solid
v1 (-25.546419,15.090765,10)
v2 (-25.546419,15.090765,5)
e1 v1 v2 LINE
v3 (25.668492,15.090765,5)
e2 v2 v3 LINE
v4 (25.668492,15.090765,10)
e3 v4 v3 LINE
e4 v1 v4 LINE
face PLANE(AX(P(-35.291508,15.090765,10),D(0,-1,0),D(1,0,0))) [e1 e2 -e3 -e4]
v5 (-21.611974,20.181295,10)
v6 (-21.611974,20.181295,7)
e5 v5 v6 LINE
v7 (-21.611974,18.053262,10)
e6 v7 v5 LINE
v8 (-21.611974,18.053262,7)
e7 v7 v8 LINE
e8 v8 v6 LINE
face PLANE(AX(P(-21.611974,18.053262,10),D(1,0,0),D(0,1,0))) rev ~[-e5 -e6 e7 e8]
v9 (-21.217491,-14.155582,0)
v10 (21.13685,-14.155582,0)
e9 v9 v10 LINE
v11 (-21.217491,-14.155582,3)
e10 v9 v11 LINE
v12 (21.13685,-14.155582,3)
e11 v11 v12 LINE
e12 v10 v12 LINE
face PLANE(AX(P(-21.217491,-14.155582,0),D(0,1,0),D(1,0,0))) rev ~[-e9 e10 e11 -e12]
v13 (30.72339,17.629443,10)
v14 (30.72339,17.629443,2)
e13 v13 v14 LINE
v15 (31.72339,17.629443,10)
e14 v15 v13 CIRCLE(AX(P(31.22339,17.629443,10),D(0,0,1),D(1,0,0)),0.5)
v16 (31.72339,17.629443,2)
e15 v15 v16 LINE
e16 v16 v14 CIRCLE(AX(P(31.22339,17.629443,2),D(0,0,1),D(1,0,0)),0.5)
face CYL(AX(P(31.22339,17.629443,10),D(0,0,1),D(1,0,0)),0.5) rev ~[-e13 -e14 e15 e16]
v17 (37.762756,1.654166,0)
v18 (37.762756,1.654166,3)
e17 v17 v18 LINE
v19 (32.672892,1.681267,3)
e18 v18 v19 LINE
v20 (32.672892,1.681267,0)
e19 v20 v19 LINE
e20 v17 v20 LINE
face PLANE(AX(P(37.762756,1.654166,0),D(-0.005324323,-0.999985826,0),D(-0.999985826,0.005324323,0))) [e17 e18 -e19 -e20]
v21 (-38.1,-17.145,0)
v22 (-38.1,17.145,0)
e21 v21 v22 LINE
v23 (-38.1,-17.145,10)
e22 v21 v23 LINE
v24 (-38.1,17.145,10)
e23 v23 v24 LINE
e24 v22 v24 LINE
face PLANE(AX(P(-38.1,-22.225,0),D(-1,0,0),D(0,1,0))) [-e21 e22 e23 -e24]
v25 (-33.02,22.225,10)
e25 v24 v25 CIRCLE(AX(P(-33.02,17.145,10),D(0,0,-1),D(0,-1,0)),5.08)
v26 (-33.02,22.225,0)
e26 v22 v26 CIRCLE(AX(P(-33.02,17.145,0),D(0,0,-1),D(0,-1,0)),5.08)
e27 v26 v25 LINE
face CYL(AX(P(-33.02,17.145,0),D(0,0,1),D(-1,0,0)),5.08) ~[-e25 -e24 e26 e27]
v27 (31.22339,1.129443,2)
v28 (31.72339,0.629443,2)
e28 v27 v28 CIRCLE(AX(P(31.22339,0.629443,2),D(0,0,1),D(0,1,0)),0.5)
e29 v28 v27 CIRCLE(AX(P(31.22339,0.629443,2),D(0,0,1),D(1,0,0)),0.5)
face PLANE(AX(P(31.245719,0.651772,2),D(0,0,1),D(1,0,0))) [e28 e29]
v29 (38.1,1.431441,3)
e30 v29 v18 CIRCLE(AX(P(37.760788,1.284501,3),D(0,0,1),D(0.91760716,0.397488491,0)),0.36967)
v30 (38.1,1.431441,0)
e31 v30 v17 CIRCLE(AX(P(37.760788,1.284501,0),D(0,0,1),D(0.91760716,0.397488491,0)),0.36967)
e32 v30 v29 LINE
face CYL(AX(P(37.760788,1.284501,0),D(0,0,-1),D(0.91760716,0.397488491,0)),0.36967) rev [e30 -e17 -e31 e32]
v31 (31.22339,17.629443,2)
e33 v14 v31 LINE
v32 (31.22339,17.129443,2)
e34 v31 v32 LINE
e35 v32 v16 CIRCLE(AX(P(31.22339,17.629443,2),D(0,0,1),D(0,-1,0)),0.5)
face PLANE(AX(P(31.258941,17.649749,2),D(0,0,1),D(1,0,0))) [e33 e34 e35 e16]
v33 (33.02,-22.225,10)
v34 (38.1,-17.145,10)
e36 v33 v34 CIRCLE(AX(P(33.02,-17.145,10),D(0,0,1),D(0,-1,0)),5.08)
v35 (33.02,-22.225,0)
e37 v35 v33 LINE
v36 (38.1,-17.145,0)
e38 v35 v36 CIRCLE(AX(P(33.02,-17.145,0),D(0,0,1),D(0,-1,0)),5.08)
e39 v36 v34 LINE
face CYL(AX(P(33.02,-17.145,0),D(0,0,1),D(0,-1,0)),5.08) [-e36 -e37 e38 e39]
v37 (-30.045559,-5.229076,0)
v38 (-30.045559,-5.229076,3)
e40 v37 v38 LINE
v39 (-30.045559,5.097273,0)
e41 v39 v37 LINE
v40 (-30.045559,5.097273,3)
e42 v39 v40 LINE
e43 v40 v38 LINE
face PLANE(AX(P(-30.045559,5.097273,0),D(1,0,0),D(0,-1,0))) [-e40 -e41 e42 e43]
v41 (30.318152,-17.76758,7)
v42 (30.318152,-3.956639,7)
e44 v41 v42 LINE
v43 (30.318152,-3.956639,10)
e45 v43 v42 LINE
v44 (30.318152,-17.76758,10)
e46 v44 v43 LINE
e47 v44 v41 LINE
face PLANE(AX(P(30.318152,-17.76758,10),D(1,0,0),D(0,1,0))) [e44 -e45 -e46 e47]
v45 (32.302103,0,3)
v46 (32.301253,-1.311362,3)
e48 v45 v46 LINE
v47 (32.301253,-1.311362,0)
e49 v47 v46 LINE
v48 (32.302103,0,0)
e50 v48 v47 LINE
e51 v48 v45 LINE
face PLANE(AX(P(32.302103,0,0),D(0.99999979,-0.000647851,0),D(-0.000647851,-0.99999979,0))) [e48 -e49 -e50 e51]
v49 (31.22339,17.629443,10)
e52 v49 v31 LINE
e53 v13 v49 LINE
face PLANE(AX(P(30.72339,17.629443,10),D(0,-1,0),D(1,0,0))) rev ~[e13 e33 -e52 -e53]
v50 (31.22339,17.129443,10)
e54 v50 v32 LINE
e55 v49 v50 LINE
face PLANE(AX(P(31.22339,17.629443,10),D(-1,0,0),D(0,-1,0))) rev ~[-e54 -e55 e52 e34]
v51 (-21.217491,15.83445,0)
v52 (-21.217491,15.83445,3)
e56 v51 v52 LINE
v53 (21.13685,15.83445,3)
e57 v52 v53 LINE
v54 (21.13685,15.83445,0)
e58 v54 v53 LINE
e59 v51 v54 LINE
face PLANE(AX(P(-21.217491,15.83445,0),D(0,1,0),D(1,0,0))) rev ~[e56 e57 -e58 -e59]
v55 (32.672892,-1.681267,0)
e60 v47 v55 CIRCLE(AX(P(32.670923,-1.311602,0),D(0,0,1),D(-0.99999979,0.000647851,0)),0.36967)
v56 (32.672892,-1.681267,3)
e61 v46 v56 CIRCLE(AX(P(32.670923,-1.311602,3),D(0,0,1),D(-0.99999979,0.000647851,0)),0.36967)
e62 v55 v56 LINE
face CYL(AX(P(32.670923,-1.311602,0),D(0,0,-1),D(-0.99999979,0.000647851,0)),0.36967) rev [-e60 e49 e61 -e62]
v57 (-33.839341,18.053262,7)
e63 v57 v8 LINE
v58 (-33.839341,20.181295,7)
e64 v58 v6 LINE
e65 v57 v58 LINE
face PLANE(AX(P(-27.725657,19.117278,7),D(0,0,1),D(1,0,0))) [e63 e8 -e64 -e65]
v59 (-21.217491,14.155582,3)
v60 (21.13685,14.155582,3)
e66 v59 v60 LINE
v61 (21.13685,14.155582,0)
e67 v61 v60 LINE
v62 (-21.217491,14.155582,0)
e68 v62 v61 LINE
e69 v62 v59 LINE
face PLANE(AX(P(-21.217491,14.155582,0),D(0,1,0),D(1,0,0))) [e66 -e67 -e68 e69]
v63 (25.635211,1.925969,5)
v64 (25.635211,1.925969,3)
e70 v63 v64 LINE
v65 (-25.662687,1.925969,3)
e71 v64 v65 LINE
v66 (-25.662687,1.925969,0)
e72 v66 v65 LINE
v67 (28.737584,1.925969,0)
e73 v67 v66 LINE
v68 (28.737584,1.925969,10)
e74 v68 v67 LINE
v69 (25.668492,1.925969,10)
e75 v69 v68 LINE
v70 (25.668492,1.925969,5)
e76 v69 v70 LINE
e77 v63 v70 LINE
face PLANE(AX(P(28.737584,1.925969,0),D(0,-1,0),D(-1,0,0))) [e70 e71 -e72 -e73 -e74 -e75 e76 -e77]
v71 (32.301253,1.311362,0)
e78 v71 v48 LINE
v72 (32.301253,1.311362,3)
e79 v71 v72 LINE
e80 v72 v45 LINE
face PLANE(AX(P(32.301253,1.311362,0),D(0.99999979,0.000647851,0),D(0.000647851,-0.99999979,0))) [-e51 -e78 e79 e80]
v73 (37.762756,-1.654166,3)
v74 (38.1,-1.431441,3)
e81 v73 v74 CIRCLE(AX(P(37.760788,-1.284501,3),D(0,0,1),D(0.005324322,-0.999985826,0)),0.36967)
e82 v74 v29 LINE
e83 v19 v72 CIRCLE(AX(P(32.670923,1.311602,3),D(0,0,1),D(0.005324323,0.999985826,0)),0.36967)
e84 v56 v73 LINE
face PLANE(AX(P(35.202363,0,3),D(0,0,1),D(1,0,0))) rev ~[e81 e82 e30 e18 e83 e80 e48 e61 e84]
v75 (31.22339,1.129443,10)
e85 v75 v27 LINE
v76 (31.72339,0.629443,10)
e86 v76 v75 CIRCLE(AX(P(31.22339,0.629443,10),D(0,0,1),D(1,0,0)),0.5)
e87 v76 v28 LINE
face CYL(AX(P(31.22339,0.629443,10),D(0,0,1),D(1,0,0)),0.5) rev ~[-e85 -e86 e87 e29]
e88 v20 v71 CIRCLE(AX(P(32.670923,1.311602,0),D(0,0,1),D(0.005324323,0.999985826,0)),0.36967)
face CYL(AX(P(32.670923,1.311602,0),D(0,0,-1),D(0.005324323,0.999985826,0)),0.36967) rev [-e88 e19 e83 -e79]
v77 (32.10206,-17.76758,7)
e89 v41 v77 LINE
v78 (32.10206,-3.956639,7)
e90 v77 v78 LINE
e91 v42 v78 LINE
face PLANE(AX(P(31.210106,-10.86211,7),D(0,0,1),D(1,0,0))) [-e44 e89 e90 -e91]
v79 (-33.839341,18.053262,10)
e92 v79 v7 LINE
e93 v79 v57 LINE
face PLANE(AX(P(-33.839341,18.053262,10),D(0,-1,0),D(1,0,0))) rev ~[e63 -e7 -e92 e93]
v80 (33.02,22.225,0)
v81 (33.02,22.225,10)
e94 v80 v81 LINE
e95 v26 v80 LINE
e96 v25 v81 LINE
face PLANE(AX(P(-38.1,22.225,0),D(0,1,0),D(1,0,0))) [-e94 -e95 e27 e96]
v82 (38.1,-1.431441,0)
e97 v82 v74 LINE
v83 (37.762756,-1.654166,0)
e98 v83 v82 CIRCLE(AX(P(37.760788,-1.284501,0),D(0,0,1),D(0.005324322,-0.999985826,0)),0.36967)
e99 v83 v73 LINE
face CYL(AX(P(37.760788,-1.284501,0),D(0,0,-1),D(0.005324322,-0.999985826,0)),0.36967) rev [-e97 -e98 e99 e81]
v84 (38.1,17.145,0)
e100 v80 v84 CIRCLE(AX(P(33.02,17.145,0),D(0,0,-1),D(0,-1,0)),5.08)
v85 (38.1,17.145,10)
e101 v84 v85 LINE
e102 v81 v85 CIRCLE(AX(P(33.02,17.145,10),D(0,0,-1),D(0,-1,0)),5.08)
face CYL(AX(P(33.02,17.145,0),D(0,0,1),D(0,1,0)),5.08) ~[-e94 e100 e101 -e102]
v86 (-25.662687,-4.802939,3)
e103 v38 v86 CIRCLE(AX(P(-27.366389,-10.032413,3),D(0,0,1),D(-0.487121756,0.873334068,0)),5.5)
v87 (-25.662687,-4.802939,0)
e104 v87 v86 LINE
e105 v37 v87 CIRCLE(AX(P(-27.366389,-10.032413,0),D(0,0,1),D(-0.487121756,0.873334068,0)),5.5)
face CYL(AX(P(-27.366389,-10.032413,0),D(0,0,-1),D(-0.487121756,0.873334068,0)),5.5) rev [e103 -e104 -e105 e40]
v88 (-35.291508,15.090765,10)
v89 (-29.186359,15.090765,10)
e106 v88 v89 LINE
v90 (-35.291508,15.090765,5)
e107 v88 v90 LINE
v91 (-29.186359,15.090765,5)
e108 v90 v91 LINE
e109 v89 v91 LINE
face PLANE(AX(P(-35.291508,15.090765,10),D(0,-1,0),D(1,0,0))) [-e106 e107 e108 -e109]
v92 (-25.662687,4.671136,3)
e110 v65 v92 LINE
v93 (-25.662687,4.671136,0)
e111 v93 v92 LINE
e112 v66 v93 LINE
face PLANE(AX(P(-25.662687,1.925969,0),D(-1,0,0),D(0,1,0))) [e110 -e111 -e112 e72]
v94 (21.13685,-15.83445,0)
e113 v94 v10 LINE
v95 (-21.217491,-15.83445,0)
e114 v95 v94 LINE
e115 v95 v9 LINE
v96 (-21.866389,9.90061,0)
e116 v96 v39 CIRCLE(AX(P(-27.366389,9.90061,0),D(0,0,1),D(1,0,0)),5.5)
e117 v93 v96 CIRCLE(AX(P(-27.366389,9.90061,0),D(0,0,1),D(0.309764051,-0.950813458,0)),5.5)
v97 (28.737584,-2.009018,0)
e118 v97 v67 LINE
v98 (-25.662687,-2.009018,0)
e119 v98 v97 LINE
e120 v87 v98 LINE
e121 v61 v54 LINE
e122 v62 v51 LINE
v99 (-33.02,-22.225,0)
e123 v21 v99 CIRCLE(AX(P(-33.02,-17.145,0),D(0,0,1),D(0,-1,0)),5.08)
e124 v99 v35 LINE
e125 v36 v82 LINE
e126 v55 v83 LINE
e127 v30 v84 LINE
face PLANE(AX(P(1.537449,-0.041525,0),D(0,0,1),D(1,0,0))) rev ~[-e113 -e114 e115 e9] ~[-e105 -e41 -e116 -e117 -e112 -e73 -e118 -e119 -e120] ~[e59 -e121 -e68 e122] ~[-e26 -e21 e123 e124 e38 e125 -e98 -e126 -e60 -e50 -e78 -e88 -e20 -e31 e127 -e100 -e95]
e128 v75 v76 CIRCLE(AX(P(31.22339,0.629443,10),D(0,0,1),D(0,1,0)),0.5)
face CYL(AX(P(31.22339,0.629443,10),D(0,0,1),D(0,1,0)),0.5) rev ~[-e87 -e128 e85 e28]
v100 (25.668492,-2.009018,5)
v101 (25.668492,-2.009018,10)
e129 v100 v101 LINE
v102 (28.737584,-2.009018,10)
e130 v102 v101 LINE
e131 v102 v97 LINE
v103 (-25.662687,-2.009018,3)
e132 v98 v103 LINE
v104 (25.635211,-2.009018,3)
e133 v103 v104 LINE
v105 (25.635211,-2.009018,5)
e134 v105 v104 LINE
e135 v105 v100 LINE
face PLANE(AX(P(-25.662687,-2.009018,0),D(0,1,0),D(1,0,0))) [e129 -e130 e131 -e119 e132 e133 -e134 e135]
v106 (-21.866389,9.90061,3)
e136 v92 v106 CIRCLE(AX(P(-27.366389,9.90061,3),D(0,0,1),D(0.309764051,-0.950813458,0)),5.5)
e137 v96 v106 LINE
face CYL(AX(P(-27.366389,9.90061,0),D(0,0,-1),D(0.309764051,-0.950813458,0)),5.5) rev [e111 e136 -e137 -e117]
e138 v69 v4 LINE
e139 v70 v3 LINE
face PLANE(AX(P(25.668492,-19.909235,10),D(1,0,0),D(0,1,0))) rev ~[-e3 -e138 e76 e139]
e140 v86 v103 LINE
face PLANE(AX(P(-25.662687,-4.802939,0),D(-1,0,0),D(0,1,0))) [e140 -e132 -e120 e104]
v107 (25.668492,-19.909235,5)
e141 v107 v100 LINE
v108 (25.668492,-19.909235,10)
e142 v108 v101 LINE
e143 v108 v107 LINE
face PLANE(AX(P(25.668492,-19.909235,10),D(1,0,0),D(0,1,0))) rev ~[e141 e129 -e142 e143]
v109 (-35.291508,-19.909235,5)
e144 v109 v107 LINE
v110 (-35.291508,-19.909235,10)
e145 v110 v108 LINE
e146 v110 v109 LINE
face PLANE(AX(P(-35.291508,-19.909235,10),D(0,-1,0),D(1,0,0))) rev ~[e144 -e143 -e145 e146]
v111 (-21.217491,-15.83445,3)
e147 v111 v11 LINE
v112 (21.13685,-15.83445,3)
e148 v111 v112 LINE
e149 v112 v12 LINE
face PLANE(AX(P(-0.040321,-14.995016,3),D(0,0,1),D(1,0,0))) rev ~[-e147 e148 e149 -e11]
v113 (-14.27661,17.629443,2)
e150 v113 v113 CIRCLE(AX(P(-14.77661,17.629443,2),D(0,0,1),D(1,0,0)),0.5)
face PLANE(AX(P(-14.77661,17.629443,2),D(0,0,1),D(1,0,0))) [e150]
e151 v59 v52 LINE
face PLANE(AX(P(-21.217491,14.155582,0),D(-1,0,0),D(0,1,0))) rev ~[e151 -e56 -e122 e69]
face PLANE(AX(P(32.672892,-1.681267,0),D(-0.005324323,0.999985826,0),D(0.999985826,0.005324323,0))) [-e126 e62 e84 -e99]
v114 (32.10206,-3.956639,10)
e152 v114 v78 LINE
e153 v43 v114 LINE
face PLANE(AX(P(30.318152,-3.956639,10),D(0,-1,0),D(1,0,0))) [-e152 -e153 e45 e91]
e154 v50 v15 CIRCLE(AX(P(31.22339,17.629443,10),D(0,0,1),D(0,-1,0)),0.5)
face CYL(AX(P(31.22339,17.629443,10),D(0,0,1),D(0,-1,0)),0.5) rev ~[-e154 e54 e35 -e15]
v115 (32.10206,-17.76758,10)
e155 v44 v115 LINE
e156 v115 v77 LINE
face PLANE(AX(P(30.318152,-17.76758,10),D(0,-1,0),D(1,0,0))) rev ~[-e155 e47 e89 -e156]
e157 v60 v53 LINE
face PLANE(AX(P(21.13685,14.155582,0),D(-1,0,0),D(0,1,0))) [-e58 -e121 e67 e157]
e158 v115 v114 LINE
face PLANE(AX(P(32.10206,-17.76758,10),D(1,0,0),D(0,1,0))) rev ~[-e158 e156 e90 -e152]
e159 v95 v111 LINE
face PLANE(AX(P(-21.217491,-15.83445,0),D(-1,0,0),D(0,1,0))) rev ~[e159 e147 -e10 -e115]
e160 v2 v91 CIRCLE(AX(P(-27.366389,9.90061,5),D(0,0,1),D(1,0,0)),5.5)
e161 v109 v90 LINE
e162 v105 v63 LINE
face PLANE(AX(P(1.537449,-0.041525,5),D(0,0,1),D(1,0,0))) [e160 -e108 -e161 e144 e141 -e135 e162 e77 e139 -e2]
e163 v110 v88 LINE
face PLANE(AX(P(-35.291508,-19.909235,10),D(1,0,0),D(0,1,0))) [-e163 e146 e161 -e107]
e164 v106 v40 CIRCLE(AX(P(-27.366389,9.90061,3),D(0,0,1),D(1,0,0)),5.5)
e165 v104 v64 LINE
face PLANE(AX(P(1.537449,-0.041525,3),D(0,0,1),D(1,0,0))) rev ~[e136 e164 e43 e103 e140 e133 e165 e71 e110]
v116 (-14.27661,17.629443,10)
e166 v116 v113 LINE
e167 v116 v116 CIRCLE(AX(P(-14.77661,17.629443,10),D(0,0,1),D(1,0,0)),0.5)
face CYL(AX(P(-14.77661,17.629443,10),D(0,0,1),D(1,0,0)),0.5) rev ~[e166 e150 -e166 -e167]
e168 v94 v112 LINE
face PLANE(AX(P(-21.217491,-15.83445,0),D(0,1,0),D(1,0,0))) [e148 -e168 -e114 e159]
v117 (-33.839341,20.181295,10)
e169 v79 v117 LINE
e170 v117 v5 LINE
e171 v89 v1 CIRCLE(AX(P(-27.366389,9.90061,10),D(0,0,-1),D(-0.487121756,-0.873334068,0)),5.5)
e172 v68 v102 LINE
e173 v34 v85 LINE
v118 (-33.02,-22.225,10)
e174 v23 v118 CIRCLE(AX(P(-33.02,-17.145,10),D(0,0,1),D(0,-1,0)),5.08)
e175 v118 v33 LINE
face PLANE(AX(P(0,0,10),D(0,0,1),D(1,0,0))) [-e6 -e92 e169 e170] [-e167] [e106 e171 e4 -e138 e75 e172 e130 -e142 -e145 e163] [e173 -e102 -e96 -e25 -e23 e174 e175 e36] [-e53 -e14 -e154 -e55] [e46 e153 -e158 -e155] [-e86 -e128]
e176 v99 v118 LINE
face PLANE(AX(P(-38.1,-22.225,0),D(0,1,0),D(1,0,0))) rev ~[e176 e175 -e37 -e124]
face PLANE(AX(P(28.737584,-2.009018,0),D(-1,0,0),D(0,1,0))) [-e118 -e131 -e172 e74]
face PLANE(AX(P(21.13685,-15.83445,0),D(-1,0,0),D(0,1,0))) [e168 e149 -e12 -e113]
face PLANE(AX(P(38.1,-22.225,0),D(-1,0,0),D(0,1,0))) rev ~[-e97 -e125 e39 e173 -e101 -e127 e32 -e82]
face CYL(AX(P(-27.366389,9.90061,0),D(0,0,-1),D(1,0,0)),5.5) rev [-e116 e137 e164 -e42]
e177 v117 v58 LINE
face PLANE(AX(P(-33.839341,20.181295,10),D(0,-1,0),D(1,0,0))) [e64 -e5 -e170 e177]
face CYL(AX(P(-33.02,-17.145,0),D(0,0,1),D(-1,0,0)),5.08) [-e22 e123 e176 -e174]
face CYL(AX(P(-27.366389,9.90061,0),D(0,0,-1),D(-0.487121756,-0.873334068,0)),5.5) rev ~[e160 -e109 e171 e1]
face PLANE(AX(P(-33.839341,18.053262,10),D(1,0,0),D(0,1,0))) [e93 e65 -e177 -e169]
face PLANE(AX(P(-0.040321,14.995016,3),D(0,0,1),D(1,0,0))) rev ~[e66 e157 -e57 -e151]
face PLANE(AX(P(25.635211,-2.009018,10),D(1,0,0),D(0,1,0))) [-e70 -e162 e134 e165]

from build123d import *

# Parameters (mm, degrees)
F0_W      = 76.2
F0_H      = 44.45
F1_DEPTH  = 10
F3_W      = 60.96
F3_H      = 35
F5_DEPTH  = 5
F6_DEPTH  = 3
F7_DEPTH  = 5
F8_DEPTH  = 3
F9_R      = 5.08
F10_W     = 3.1023733318
F10_H     = 3.9349872386
F11_DEPTH = 11
F12_W     = 42.3543415964
F12_H     = 1.6788681969
F13_DEPTH = 3
F4_R      = 0.5
F14_DEPTH = 8
F16_DEPTH = 3
F17_W     = 1.7839074135
F17_H     = 13.8109410182
F17_W_2   = 12.2273676097
F17_H_2   = 2.1280329674
F18_DEPTH = 3


with BuildPart() as f1:
    # F0 (on Top) → F1 (new body)
    with BuildSketch(Plane.XY):
        Rectangle(F0_W, F0_H)
        with BuildLine():
            Line((-30.0455586378, -5.2290757074), (-30.0455586378, 5.0972730335))
            ThreePointArc((-30.0455586378, 5.0972730335), (-30.1515789958, 14.6432590947), (-21.8663889779, 9.9006104081))
            ThreePointArc((-21.8663889779, 9.9006104081), (-22.9155259968, 6.6695395757), (-25.6626866956, 4.6711363874))
            Line((-25.6626866956, 4.6711363874), (-25.6626866956, 1.9259689143))
            Line((-25.6626866956, 1.9259689143), (26.3650547713, 1.9259689143))
            Line((26.3650547713, 1.9259689143), (28.737584129, 1.9259689143))
            Line((28.737584129, 1.9259689143), (28.737584129, -2.0090183243))
            Line((28.737584129, -2.0090183243), (26.3650547713, -2.0090183243))
            Line((26.3650547713, -2.0090183243), (-25.6626866956, -2.0090183243))
            Line((-25.6626866956, -2.0090183243), (-25.6626866956, -4.8029390612))
            ThreePointArc((-25.6626866956, -4.8029390612), (-22.9155259968, -6.8013422496), (-21.8663889779, -10.0324130819))
            ThreePointArc((-21.8663889779, -10.0324130819), (-30.1515789958, -14.7750617685), (-30.0455586378, -5.2290757074))
        make_face(mode=Mode.SUBTRACT)
    extrude(amount=F1_DEPTH)

    # F3 (on face) → F5 (cut)
    with BuildSketch(Plane.XY.offset(10)):
        with Locations((-4.8115077713, -2.409234643)):
            Rectangle(F3_W, F3_H)
    extrude(amount=-F5_DEPTH, mode=Mode.SUBTRACT)

    # F0 (on Top) → F6 (cut)
    with BuildSketch(Plane.XY):
        with BuildLine():
            ThreePointArc((-30.0455586378, 5.0972730335), (-28.7505212765, 4.5776246125), (-27.3663889779, 4.4006104081))
            ThreePointArc((-27.3663889779, 4.4006104081), (-26.5038656779, 4.468662916), (-25.6626866956, 4.6711363874))
            ThreePointArc((-25.6626866956, 4.6711363874), (-22.9155259968, 6.6695395757), (-21.8663889779, 9.9006104081))
            ThreePointArc((-21.8663889779, 9.9006104081), (-30.1515789958, 14.6432590947), (-30.0455586378, 5.0972730335))
        make_face()
        with BuildLine():
            ThreePointArc((-25.6626866956, -4.8029390612), (-26.5038656779, -4.6004655898), (-27.3663889779, -4.5324130819))
            ThreePointArc((-27.3663889779, -4.5324130819), (-28.7505212765, -4.7094272864), (-30.0455586378, -5.2290757074))
            ThreePointArc((-30.0455586378, -5.2290757074), (-30.1515789958, -14.7750617685), (-21.8663889779, -10.0324130819))
            ThreePointArc((-21.8663889779, -10.0324130819), (-22.9155259968, -6.8013422496), (-25.6626866956, -4.8029390612))
        make_face()
    extrude(amount=F6_DEPTH, mode=Mode.SUBTRACT)

    # F0 (on Top) → F7 (join)
    with BuildSketch(Plane.XY):
        Polygon((26.3650547713, 1.9259689143), (-25.6626866956, 1.9259689143), (-25.6626866956, -2.0090183243), (26.3650547713, -2.0090183243), (28.737584129, -2.0090183243), (28.737584129, 1.9259689143), align=None)
        with BuildLine():
            ThreePointArc((-25.6626866956, -4.8029390612), (-26.5038656779, -4.6004655898), (-27.3663889779, -4.5324130819))
            ThreePointArc((-27.3663889779, -4.5324130819), (-28.7505212765, -4.7094272864), (-30.0455586378, -5.2290757074))
            ThreePointArc((-30.0455586378, -5.2290757074), (-30.1515789958, -14.7750617685), (-21.8663889779, -10.0324130819))
            ThreePointArc((-21.8663889779, -10.0324130819), (-22.9155259968, -6.8013422496), (-25.6626866956, -4.8029390612))
        make_face()
        with BuildLine():
            Line((-27.3663889779, -4.5324130819), (-27.3663889779, 4.4006104081))
            ThreePointArc((-27.3663889779, 4.4006104081), (-28.7505212765, 4.5776246125), (-30.0455586378, 5.0972730335))
            Line((-30.0455586378, 5.0972730335), (-30.0455586378, -5.2290757074))
            ThreePointArc((-30.0455586378, -5.2290757074), (-28.7505212765, -4.7094272864), (-27.3663889779, -4.5324130819))
        make_face()
        with BuildLine():
            ThreePointArc((-30.0455586378, 5.0972730335), (-28.7505212765, 4.5776246125), (-27.3663889779, 4.4006104081))
            ThreePointArc((-27.3663889779, 4.4006104081), (-26.5038656779, 4.468662916), (-25.6626866956, 4.6711363874))
            ThreePointArc((-25.6626866956, 4.6711363874), (-22.9155259968, 6.6695395757), (-21.8663889779, 9.9006104081))
            ThreePointArc((-21.8663889779, 9.9006104081), (-30.1515789958, 14.6432590947), (-30.0455586378, 5.0972730335))
        make_face()
        with BuildLine():
            ThreePointArc((-25.6626866956, 4.6711363874), (-26.5038656779, 4.468662916), (-27.3663889779, 4.4006104081))
            Line((-27.3663889779, 4.4006104081), (-27.3663889779, -4.5324130819))
            ThreePointArc((-27.3663889779, -4.5324130819), (-26.5038656779, -4.6004655898), (-25.6626866956, -4.8029390612))
            Line((-25.6626866956, -4.8029390612), (-25.6626866956, -2.0090183243))
            Line((-25.6626866956, -2.0090183243), (-25.6626866956, 1.9259689143))
            Line((-25.6626866956, 1.9259689143), (-25.6626866956, 4.6711363874))
        make_face()
    extrude(amount=F7_DEPTH)

    # F0 (on Top) → F8 (cut)
    with BuildSketch(Plane.XY):
        Polygon((26.3650547713, 1.9259689143), (-25.6626866956, 1.9259689143), (-25.6626866956, -2.0090183243), (26.3650547713, -2.0090183243), (28.737584129, -2.0090183243), (28.737584129, 1.9259689143), align=None)
        with BuildLine():
            ThreePointArc((-30.0455586378, 5.0972730335), (-28.7505212765, 4.5776246125), (-27.3663889779, 4.4006104081))
            ThreePointArc((-27.3663889779, 4.4006104081), (-26.5038656779, 4.468662916), (-25.6626866956, 4.6711363874))
            ThreePointArc((-25.6626866956, 4.6711363874), (-22.9155259968, 6.6695395757), (-21.8663889779, 9.9006104081))
            ThreePointArc((-21.8663889779, 9.9006104081), (-30.1515789958, 14.6432590947), (-30.0455586378, 5.0972730335))
        make_face()
        with BuildLine():
            Line((-27.3663889779, -4.5324130819), (-27.3663889779, 4.4006104081))
            ThreePointArc((-27.3663889779, 4.4006104081), (-28.7505212765, 4.5776246125), (-30.0455586378, 5.0972730335))
            Line((-30.0455586378, 5.0972730335), (-30.0455586378, -5.2290757074))
            ThreePointArc((-30.0455586378, -5.2290757074), (-28.7505212765, -4.7094272864), (-27.3663889779, -4.5324130819))
        make_face()
        with BuildLine():
            ThreePointArc((-25.6626866956, 4.6711363874), (-26.5038656779, 4.468662916), (-27.3663889779, 4.4006104081))
            Line((-27.3663889779, 4.4006104081), (-27.3663889779, -4.5324130819))
            ThreePointArc((-27.3663889779, -4.5324130819), (-26.5038656779, -4.6004655898), (-25.6626866956, -4.8029390612))
            Line((-25.6626866956, -4.8029390612), (-25.6626866956, -2.0090183243))
            Line((-25.6626866956, -2.0090183243), (-25.6626866956, 1.9259689143))
            Line((-25.6626866956, 1.9259689143), (-25.6626866956, 4.6711363874))
        make_face()
        with BuildLine():
            ThreePointArc((-25.6626866956, -4.8029390612), (-26.5038656779, -4.6004655898), (-27.3663889779, -4.5324130819))
            ThreePointArc((-27.3663889779, -4.5324130819), (-28.7505212765, -4.7094272864), (-30.0455586378, -5.2290757074))
            ThreePointArc((-30.0455586378, -5.2290757074), (-30.1515789958, -14.7750617685), (-21.8663889779, -10.0324130819))
            ThreePointArc((-21.8663889779, -10.0324130819), (-22.9155259968, -6.8013422496), (-25.6626866956, -4.8029390612))
        make_face()
    extrude(amount=F8_DEPTH, mode=Mode.SUBTRACT)

    # F9
    f9_edges = [f1.edges().sort_by_distance(p)[0] for p in [
        (38.1, 22.225, 5),
        (38.1, -22.225, 5),
        (-38.1, -22.225, 5),
        (-38.1, 22.225, 5),
    ]]
    fillet(f9_edges, radius=F9_R)

    # F10 (on face) → F11 (cut)
    with BuildSketch(Plane.XY.offset(10)):
        with Locations((27.1863974631, -0.041524705)):
            Rectangle(F10_W, F10_H)
    extrude(amount=-F11_DEPTH, mode=Mode.SUBTRACT)

    # F12 (on face) → F13 (cut)
    with BuildSketch(Plane.XY):
        with Locations((-0.0403206795, -14.995015692)):
            Rectangle(F12_W, F12_H)
        with Locations((-0.0403206795, 14.995015692)):
            Rectangle(F12_W, F12_H)
    extrude(amount=F13_DEPTH, mode=Mode.SUBTRACT)

    # F4 (on face) → F14 (cut)
    with BuildSketch(Plane.XY.offset(10)):
        with Locations((-14.7766097486, 17.6294427365)):
            Circle(F4_R)
        with BuildLine():
            Line((30.7233902514, 17.6294427365), (31.2233902514, 17.6294427365))
            Line((31.2233902514, 17.6294427365), (31.2233902514, 17.1294427365))
            ThreePointArc((31.2233902514, 17.1294427365), (31.576943642, 17.2758893459), (31.7233902514, 17.6294427365))
            ThreePointArc((31.7233902514, 17.6294427365), (31.2233902514, 18.1294427365), (30.7233902514, 17.6294427365))
        make_face()
        with BuildLine():
            ThreePointArc((31.7233902514, 0.6294427365), (31.576943642, 0.9829961271), (31.2233902514, 1.1294427365))
            ThreePointArc((31.2233902514, 1.1294427365), (30.8698368608, 0.2758893459), (31.7233902514, 0.6294427365))
        make_face()
    extrude(amount=-F14_DEPTH, mode=Mode.SUBTRACT)

    # F15 (on face) → F16 (cut)
    with BuildSketch(Plane.XY):
        with BuildLine():
            Line((32.6728916039, -1.6812667771), (37.7627563252, -1.6541663098))
            ThreePointArc((37.7627563252, -1.6541663098), (37.9645099731, -1.5929708523), (38.1, -1.4314410684))
            Line((38.1, -1.4314410684), (38.1, 1.4314410684))
            ThreePointArc((38.1, 1.4314410684), (37.9645099731, 1.5929708523), (37.7627563252, 1.6541663098))
            Line((37.7627563252, 1.6541663098), (32.6728916039, 1.6812667771))
            ThreePointArc((32.6728916039, 1.6812667771), (32.4101390596, 1.5736086497), (32.3012533523, 1.3113624396))
            Line((32.3012533523, 1.3113624396), (32.3021029201, 0))
            Line((32.3021029201, 0), (32.3012533523, -1.3113624396))
            ThreePointArc((32.3012533523, -1.3113624396), (32.4101390596, -1.5736086497), (32.6728916039, -1.6812667771))
        make_face()
    extrude(amount=F16_DEPTH, mode=Mode.SUBTRACT)

    # F17 (on face) → F18 (cut)
    with BuildSketch(Plane.XY.offset(10)):
        with Locations((31.2101058662, -10.862109717)):
            Rectangle(F17_W, F17_H)
        with Locations((-27.7256574482, 19.1172780469)):
            Rectangle(F17_W_2, F17_H_2)
    extrude(amount=-F18_DEPTH, mode=Mode.SUBTRACT)


solid = f1.part
